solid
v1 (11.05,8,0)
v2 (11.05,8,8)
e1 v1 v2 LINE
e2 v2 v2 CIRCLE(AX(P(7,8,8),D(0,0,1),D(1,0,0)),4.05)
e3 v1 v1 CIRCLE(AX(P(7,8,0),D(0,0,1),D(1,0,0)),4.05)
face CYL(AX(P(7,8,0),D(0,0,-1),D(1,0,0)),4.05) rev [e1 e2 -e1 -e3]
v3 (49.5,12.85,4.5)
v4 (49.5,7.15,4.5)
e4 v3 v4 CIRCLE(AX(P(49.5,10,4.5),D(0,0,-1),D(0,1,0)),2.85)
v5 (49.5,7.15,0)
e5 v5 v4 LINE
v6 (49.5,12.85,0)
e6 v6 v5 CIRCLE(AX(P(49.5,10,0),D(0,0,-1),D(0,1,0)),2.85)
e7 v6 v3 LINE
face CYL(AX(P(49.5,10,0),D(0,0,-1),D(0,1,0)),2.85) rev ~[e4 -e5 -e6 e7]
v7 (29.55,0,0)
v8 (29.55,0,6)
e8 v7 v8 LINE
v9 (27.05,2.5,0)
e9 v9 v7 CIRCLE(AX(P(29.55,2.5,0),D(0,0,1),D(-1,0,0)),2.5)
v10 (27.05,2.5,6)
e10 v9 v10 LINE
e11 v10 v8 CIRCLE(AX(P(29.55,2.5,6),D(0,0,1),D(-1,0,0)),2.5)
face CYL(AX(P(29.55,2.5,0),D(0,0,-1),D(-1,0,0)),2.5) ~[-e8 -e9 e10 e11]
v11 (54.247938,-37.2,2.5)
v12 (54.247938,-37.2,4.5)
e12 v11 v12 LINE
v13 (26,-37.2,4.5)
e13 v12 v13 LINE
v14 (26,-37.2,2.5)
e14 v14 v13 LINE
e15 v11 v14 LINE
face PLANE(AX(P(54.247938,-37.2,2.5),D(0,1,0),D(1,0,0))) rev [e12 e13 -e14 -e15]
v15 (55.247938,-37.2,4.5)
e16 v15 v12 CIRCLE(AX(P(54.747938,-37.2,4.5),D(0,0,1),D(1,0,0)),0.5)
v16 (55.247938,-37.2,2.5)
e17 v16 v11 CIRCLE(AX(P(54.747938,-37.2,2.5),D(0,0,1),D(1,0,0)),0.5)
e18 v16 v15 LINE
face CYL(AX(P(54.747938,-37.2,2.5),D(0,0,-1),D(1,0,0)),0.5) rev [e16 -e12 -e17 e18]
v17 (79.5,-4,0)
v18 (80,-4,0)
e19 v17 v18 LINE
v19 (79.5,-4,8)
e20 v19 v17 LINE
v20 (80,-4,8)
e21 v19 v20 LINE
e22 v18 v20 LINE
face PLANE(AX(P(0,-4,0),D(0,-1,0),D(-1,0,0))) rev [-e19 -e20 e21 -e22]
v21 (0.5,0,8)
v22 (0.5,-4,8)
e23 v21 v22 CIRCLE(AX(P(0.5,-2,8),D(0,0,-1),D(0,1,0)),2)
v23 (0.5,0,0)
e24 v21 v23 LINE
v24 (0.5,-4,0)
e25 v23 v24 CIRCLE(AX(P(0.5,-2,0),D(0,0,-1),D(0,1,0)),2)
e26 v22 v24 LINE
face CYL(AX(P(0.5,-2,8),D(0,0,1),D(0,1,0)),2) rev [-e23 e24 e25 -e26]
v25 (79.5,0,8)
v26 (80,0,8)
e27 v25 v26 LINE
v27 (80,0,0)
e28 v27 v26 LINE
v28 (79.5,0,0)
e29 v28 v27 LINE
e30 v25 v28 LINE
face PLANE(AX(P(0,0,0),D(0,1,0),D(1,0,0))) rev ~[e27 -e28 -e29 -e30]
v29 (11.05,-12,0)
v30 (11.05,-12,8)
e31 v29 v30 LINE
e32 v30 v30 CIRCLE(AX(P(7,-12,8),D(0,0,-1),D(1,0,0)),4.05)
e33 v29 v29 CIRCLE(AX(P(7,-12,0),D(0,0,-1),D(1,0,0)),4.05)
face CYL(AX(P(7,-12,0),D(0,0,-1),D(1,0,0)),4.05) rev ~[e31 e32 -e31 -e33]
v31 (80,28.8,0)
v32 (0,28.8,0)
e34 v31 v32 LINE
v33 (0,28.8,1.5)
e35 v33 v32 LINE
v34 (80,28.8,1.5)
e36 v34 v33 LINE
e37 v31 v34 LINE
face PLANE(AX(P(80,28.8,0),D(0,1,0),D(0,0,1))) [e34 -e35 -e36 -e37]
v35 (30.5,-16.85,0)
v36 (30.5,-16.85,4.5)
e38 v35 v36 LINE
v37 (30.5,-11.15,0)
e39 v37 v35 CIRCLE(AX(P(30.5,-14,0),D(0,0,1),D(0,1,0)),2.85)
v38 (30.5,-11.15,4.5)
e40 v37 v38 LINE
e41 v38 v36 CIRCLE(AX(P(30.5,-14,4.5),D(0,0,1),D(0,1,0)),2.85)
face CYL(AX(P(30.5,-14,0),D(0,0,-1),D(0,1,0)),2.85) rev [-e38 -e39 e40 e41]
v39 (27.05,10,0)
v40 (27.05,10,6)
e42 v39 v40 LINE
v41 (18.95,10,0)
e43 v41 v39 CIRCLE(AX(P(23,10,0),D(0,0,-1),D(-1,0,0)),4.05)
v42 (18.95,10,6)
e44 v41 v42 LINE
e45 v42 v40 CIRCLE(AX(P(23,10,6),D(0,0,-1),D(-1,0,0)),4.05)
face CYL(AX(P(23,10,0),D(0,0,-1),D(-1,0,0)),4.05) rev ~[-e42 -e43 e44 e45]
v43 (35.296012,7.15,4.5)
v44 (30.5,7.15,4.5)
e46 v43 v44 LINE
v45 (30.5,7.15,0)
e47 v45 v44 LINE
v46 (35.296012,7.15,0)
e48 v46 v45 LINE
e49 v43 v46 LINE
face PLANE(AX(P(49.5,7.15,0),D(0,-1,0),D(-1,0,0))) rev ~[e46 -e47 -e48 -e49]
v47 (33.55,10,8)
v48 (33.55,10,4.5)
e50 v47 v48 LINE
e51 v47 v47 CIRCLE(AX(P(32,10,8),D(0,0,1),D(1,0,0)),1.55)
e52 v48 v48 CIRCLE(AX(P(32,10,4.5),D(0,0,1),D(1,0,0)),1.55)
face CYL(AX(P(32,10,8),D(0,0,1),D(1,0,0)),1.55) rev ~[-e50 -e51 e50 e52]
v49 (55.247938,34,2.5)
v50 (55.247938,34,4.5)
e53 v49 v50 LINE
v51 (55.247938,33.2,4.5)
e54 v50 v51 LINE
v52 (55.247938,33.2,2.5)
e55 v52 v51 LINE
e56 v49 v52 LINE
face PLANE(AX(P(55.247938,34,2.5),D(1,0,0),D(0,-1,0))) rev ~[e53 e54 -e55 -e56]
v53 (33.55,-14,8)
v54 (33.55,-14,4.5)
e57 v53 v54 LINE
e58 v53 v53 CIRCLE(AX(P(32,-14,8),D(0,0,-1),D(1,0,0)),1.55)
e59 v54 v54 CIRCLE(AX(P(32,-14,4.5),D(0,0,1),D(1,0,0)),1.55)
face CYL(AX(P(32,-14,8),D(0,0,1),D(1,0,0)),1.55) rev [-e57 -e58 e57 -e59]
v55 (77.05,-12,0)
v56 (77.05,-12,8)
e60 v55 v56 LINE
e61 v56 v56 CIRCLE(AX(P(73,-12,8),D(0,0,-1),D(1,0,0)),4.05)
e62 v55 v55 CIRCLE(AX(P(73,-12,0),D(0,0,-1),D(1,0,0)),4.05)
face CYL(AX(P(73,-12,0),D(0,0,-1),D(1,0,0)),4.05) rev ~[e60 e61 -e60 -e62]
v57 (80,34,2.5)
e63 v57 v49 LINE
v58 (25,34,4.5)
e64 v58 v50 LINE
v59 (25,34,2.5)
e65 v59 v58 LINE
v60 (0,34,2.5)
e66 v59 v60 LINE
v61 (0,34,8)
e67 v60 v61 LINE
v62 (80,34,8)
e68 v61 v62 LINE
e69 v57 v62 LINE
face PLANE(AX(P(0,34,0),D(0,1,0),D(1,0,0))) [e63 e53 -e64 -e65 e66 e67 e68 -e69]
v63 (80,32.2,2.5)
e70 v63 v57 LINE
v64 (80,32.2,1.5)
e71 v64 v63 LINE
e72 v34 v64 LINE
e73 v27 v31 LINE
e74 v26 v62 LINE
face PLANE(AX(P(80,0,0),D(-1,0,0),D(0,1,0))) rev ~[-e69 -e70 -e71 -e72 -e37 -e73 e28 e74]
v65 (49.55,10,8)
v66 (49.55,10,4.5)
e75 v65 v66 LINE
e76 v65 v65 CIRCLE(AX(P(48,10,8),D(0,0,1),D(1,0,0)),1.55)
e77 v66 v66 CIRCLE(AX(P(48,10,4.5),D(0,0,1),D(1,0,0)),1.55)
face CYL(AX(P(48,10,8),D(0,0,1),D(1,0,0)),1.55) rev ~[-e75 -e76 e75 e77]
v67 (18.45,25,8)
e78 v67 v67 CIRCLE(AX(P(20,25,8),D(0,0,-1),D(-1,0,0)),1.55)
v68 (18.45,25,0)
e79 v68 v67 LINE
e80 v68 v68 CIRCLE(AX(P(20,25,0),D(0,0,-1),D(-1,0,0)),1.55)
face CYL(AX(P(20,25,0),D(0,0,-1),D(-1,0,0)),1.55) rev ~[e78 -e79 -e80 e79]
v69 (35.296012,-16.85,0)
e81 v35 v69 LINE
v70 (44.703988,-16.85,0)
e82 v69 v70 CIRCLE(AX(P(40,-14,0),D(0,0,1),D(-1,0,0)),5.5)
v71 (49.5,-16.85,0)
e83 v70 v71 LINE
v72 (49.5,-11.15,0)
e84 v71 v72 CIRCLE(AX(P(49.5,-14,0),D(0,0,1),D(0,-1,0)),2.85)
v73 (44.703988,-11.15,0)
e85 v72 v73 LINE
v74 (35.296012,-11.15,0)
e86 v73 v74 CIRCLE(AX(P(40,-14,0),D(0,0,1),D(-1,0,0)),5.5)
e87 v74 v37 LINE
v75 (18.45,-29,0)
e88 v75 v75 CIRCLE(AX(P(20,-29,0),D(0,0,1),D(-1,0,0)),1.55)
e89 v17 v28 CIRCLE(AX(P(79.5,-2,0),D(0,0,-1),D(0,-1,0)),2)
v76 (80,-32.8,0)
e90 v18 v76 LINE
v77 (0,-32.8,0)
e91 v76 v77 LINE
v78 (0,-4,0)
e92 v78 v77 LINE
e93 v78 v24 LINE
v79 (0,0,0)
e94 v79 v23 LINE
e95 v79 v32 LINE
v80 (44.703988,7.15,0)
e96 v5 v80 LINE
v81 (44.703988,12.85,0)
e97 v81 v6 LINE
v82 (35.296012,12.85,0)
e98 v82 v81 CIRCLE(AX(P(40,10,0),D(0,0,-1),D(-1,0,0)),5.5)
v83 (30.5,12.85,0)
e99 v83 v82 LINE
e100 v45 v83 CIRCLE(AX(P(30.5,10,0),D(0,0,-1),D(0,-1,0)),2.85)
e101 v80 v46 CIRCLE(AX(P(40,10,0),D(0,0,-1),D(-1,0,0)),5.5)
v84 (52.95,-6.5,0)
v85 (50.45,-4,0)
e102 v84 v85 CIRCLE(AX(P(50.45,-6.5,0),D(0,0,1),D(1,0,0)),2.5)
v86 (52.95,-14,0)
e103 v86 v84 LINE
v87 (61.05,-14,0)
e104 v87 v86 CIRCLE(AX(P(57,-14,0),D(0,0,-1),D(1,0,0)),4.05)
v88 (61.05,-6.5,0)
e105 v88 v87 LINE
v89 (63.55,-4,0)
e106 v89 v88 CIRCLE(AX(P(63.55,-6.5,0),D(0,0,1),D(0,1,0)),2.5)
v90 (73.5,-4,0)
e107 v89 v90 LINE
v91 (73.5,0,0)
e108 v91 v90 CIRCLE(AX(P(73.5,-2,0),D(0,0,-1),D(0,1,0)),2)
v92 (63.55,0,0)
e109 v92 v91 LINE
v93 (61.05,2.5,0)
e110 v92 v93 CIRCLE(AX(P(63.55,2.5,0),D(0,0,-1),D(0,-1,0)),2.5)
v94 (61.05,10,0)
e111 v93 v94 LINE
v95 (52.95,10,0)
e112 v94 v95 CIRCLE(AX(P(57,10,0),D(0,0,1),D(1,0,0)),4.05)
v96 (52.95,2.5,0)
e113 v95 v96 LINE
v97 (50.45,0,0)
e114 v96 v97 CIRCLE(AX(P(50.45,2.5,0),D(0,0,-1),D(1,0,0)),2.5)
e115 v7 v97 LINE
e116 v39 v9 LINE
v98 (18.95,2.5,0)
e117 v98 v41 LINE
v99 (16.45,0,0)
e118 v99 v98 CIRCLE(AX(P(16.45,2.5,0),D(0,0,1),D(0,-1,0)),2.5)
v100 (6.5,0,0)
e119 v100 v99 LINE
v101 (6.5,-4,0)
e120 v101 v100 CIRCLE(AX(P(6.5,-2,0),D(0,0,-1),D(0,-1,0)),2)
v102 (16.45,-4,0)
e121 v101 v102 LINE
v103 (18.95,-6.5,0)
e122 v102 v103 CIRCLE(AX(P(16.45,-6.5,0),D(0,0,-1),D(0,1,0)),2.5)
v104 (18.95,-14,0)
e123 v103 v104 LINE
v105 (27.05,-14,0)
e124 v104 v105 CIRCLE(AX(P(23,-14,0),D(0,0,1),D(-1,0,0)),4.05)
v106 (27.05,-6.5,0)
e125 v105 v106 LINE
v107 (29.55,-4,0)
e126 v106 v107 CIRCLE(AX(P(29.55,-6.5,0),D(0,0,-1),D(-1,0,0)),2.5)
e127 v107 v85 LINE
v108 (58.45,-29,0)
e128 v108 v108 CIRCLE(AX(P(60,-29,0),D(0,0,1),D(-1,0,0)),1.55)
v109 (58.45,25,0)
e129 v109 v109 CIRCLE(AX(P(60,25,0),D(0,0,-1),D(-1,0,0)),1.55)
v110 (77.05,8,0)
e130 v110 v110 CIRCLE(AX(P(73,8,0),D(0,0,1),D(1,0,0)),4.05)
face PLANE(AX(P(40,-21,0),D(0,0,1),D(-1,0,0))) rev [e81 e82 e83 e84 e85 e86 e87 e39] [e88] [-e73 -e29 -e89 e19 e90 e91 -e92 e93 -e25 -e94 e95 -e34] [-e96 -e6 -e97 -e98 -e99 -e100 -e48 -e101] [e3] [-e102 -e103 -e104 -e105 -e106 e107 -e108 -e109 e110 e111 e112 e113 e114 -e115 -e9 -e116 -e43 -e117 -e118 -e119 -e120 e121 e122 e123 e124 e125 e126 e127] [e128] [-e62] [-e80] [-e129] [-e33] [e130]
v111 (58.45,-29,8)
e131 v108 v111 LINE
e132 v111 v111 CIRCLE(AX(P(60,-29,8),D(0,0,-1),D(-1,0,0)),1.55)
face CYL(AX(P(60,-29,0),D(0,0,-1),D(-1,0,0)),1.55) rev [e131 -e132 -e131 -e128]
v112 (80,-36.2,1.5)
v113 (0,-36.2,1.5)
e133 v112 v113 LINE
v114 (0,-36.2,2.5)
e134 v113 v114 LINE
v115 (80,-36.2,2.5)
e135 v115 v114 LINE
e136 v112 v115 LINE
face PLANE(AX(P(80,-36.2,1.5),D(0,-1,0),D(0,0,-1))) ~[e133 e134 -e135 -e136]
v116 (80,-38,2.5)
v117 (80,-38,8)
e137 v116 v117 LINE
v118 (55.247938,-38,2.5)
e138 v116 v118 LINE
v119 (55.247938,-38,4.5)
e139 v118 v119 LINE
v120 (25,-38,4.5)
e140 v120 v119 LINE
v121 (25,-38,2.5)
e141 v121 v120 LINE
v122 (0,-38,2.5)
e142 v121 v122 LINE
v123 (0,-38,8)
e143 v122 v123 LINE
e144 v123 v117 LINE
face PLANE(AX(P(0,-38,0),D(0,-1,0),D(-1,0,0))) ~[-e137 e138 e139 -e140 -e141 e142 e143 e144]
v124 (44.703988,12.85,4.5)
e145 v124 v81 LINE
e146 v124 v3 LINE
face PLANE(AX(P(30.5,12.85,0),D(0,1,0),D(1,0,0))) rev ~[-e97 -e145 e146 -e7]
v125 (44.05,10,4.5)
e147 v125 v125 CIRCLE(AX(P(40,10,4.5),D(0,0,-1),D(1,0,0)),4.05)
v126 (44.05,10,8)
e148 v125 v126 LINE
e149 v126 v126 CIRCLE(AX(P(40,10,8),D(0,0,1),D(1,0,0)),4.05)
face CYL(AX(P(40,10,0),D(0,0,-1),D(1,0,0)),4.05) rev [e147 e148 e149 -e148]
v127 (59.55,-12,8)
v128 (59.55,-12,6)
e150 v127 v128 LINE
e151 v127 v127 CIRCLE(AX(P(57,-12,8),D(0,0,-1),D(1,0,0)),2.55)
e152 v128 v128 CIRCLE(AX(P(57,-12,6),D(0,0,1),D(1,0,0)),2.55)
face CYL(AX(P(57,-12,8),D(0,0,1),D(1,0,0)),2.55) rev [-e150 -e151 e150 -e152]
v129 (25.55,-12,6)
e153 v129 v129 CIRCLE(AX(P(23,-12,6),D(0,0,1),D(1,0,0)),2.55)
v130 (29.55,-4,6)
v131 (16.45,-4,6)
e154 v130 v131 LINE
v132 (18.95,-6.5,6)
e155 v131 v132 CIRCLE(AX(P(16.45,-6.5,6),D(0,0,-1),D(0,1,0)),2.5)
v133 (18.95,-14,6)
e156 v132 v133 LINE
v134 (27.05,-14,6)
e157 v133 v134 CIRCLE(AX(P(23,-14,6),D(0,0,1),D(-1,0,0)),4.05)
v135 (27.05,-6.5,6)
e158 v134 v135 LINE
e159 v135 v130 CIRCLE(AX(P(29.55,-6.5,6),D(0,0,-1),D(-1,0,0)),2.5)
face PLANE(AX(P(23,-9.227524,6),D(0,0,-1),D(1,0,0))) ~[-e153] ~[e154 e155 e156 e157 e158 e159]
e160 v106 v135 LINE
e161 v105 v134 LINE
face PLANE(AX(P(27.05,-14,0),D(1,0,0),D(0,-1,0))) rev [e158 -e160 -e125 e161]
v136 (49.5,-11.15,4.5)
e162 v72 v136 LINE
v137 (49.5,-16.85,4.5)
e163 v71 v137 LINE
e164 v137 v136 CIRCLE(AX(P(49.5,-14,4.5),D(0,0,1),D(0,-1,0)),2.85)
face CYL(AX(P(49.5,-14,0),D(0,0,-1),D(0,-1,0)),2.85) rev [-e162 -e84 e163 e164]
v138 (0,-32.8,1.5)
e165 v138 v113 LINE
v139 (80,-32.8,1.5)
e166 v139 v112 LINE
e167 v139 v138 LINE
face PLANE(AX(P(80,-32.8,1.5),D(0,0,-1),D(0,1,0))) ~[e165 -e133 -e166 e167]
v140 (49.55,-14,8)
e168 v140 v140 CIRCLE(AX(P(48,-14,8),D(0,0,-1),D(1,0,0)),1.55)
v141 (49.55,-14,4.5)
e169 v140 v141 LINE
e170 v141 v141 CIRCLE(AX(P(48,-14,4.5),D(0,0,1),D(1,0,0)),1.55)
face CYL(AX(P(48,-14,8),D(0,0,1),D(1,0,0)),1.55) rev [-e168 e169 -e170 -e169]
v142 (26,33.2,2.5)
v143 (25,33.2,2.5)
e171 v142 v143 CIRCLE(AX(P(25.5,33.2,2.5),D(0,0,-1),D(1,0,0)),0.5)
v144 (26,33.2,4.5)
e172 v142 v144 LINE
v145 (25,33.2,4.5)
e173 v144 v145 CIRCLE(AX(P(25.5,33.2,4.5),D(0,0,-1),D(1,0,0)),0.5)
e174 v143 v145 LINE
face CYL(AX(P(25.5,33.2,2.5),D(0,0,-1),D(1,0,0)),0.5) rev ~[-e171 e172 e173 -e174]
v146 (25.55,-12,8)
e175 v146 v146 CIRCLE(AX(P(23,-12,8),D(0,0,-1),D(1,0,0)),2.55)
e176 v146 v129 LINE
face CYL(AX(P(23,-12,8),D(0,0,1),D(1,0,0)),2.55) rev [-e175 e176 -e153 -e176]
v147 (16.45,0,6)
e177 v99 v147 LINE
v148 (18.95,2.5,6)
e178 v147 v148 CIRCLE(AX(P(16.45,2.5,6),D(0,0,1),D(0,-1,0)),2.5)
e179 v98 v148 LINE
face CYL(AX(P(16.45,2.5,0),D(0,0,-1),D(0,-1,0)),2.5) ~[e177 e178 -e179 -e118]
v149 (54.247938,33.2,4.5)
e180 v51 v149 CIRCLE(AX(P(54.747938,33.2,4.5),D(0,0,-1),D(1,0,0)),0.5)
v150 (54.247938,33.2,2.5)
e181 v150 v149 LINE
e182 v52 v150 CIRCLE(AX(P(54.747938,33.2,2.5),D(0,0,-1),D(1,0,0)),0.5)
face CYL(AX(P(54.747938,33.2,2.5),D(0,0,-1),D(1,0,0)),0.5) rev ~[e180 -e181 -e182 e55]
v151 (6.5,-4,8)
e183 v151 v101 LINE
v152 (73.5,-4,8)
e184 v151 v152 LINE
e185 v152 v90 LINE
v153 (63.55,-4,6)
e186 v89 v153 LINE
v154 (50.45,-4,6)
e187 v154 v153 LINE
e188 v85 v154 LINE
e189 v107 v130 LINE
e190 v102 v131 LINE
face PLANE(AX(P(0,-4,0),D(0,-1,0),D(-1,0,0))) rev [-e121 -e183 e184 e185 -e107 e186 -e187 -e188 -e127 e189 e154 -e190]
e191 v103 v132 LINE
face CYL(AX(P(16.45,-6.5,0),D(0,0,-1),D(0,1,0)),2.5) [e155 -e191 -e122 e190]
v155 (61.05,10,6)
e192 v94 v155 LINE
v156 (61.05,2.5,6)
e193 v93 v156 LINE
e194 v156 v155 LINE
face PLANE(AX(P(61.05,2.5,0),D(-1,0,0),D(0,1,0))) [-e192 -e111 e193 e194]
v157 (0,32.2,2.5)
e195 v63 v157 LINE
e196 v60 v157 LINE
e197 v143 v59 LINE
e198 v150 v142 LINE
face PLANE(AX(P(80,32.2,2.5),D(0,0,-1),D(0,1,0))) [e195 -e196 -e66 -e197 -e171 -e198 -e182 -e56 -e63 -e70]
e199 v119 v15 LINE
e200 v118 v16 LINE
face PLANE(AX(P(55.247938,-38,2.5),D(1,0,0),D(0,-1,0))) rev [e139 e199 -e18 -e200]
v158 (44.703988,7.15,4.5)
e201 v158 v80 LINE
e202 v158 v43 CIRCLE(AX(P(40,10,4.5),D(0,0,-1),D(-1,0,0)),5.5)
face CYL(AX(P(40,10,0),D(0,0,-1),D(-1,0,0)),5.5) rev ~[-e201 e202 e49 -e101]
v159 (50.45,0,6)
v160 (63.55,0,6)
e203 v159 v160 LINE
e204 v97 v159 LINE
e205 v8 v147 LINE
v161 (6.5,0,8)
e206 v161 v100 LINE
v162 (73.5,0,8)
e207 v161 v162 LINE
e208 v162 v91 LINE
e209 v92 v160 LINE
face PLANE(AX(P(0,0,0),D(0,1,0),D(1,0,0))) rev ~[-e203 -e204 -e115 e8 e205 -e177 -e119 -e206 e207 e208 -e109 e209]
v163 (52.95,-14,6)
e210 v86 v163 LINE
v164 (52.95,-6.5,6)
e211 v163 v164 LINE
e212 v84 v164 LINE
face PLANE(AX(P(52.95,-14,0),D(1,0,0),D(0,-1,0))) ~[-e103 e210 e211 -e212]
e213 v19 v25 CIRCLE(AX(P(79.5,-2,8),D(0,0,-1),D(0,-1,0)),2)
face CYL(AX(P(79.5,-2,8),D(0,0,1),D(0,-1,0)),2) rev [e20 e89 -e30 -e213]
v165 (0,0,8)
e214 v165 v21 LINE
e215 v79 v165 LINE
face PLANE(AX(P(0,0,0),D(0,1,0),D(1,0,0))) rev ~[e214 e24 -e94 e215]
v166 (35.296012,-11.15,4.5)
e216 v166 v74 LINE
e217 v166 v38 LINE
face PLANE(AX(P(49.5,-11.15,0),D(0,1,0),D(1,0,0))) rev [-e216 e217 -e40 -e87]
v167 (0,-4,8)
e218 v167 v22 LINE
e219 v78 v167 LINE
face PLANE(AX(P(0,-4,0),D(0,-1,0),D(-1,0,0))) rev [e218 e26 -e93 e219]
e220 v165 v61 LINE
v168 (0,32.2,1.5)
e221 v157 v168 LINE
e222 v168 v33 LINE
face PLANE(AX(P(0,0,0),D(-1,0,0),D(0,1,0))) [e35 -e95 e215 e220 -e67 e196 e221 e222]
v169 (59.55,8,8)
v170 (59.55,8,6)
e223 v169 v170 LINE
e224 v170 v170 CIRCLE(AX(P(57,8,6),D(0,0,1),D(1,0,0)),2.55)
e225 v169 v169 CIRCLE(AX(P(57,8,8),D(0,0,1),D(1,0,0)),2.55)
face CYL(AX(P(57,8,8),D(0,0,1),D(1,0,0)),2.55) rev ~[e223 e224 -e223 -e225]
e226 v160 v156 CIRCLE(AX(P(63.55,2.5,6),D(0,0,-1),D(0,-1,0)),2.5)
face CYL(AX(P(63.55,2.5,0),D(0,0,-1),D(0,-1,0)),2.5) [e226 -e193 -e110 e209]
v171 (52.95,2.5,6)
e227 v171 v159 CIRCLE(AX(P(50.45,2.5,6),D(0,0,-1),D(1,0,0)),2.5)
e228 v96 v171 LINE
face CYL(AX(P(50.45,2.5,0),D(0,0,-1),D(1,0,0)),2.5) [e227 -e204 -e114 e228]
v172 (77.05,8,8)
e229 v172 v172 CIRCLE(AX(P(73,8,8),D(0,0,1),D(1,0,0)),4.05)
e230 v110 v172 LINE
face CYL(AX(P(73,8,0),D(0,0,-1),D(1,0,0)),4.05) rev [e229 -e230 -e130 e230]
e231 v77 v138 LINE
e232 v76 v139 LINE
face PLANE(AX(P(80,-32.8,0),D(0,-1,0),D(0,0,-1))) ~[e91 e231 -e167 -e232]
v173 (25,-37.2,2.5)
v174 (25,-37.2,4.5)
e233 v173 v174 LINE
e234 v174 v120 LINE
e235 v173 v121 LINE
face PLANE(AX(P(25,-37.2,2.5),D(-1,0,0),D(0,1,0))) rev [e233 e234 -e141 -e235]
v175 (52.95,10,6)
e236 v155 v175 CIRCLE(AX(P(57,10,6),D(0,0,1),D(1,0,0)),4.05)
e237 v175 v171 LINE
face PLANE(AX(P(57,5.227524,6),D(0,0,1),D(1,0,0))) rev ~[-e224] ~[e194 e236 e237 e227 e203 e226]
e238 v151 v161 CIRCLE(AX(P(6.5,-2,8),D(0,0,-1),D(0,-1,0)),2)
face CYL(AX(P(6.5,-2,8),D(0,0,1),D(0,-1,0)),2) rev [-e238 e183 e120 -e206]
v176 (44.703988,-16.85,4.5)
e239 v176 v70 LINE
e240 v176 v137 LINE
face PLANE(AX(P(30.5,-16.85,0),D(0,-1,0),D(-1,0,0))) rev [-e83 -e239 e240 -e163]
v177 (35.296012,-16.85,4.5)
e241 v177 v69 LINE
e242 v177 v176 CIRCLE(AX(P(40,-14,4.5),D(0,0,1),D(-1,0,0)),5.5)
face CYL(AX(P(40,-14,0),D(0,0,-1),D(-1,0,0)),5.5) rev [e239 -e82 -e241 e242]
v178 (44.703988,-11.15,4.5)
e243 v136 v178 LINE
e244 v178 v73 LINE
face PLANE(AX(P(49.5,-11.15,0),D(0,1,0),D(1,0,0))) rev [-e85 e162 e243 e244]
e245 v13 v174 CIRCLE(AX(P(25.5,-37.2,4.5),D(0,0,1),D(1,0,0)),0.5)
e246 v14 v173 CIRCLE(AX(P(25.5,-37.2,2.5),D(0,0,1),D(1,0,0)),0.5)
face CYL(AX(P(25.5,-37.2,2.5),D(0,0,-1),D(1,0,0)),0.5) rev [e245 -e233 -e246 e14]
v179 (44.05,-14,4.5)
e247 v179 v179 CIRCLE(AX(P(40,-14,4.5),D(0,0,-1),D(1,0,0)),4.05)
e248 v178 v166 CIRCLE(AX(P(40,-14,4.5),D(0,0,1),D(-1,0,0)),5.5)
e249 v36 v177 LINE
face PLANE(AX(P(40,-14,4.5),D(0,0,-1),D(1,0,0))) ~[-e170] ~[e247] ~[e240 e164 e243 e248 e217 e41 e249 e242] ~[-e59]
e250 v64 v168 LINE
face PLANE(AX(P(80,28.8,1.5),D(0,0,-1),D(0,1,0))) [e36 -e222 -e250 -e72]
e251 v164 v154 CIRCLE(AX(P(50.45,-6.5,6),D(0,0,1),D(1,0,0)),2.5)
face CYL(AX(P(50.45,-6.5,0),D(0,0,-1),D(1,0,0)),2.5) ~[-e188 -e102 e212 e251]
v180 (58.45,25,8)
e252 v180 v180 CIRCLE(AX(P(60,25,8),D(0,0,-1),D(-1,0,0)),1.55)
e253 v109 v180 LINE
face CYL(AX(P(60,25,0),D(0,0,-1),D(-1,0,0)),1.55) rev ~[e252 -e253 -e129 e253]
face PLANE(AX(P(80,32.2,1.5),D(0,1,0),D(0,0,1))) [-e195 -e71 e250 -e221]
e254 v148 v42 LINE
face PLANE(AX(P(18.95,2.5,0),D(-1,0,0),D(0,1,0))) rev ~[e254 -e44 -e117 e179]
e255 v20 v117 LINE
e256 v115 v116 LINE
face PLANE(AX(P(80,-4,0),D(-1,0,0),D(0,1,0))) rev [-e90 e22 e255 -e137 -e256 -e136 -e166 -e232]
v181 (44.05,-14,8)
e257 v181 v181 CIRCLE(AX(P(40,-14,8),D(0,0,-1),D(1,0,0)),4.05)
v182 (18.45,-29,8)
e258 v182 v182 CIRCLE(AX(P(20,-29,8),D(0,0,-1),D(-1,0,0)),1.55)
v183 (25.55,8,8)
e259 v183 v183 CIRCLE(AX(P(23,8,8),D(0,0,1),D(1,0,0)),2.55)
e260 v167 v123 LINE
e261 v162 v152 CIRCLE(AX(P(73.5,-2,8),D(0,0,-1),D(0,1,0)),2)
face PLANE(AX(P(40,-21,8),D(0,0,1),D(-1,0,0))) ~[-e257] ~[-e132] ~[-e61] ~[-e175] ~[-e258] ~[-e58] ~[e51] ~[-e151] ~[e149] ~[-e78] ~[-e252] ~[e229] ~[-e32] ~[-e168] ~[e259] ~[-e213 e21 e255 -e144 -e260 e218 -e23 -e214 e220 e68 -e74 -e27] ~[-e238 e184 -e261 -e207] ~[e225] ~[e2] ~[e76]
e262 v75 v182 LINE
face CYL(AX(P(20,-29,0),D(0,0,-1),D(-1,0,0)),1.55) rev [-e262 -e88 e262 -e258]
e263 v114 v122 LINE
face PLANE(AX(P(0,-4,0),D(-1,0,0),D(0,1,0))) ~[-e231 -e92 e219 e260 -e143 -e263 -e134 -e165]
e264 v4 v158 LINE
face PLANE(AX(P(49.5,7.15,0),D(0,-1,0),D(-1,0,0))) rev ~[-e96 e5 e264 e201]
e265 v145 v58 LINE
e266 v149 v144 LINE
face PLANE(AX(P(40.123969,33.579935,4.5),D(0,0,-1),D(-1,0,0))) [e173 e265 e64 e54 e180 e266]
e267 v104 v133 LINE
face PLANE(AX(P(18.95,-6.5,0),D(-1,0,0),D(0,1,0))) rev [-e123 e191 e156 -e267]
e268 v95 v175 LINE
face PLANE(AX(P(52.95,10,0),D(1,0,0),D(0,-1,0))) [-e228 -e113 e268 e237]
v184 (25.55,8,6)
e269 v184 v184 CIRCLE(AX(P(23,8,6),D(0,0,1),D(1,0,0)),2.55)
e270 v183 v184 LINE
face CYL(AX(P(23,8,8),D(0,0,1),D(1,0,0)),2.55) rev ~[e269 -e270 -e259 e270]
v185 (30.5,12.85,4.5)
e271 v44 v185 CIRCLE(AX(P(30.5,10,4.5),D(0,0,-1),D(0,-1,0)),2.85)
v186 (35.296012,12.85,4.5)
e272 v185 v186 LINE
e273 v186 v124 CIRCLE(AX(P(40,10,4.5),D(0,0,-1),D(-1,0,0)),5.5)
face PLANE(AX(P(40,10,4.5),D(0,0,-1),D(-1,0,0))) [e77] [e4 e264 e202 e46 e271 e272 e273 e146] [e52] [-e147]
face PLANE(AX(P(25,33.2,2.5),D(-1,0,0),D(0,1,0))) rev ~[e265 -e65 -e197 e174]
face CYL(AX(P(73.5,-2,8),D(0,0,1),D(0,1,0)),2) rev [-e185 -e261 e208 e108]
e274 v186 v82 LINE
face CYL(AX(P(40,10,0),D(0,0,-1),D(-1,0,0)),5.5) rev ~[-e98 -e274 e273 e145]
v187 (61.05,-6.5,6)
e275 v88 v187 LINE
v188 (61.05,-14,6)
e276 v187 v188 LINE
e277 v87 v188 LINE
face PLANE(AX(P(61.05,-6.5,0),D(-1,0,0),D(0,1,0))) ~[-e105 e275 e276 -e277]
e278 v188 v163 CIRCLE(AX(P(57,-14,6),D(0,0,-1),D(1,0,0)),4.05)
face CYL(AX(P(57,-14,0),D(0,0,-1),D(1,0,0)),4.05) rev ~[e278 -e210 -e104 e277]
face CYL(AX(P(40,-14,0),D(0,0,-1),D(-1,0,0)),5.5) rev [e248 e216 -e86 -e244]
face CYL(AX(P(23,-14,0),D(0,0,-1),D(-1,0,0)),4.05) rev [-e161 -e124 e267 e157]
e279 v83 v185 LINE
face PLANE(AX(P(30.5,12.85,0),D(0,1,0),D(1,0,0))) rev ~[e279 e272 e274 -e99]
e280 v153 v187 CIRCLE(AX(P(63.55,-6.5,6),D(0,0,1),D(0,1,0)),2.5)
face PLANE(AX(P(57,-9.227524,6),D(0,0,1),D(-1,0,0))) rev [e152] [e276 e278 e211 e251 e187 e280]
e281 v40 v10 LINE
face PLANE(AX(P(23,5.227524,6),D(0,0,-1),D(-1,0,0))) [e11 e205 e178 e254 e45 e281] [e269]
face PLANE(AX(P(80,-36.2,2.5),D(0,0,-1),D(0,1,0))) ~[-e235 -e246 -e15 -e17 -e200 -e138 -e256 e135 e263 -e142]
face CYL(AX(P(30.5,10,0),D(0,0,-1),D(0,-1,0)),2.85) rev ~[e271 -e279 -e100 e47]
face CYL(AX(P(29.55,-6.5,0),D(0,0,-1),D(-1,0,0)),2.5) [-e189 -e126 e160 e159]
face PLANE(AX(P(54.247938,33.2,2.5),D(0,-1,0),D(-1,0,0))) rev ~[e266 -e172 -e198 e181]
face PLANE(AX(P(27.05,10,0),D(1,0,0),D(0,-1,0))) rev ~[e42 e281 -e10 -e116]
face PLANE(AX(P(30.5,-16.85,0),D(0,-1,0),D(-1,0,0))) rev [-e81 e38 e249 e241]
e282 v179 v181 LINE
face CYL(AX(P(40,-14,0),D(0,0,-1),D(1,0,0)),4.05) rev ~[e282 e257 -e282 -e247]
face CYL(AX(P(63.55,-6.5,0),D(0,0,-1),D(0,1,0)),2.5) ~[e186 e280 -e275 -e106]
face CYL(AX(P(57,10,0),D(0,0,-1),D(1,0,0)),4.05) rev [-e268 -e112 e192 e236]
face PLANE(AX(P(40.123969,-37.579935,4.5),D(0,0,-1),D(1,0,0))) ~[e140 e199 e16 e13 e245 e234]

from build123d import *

# Parameters (mm, degrees)
SKETCH_2_W           = 80
SKETCH_2_H           = 34
SKETCH_2_R           = 4.05
EXTRUDE_1_DEPTH      = 8
SKETCH_3_R           = 2.55
CUT_EXTRUDE_1_DEPTH  = 88.292611371
CUT_EXTRUDE_2_DEPTH  = 88.292611371
SKETCH_5_R           = 1.55
CUT_EXTRUDE_3_DEPTH  = 88.292611371
CUT_EXTRUDE_4_DEPTH  = 6
CUT_EXTRUDE_5_DEPTH  = 4.5
SKETCH_20_R          = 5.5
CUT_EXTRUDE_12_DEPTH = 4.5
SKETCH_25_R          = 1.55
CUT_EXTRUDE_13_DEPTH = 88.292611371
CUT_EXTRUDE_11_DEPTH = 2
EXTRUDE_2_DEPTH      = 8


with BuildPart() as part:
    # 草图2 → 凸台-拉伸1 (new body)
    with BuildSketch(Plane.XY):
        with Locations((40, 17)):
            Rectangle(SKETCH_2_W, SKETCH_2_H)
        with Locations((7, 8)):
            Circle(SKETCH_2_R, mode=Mode.SUBTRACT)
        with Locations((40, 10)):
            Circle(SKETCH_2_R, mode=Mode.SUBTRACT)
        with Locations((73, 8)):
            Circle(SKETCH_2_R, mode=Mode.SUBTRACT)
    extrude_1 = extrude(amount=EXTRUDE_1_DEPTH)

    # 草图3 → 切除-拉伸1 (cut, through all)
    with BuildSketch(Plane.XY.offset(8)):
        with Locations((23, 8)):
            Circle(SKETCH_3_R)
        with Locations((57, 8)):
            Circle(SKETCH_3_R)
    cut_extrude_1 = extrude(amount=-CUT_EXTRUDE_1_DEPTH, mode=Mode.SUBTRACT)

    # 草图4 → 切除-拉伸2 (cut, through all)
    with BuildSketch(Plane(origin=(80, 0, 0), x_dir=(0, 0, -1), z_dir=(1, 0, 0))):
        Polygon((-1.5, 32.2), (-2.5, 32.2), (-2.5, 34), (0, 34), (0, 28.8), (-1.5, 28.8), align=None)
    cut_extrude_2 = extrude(amount=-CUT_EXTRUDE_2_DEPTH, mode=Mode.SUBTRACT)

    # 草图5 → 切除-拉伸3 (cut, through all)
    with BuildSketch(Plane.XY.offset(8)):
        with Locations((48, 10)):
            Circle(SKETCH_5_R)
        with Locations((32, 10)):
            Circle(SKETCH_5_R)
    cut_extrude_3 = extrude(amount=-CUT_EXTRUDE_3_DEPTH, mode=Mode.SUBTRACT)

    # 草图7 → 切除-拉伸4 (cut)
    with BuildSketch(Plane(origin=(0, 0, 0), x_dir=(-1, 0, 0), z_dir=(0, 0, -1))):
        with BuildLine():
            Line((-27.05, 10), (-27.05, 2.5))
            ThreePointArc((-27.05, 2.5), (-27.782233047, 0.732233047), (-29.55, 0))
            Line((-29.55, 0), (-16.45, 0))
            ThreePointArc((-16.45, 0), (-18.217766953, 0.732233047), (-18.95, 2.5))
            Line((-18.95, 2.5), (-18.95, 10))
            ThreePointArc((-18.95, 10), (-23, 14.05), (-27.05, 10))
        make_face()
        with BuildLine():
            Line((-61.05, 2.5), (-61.05, 10))
            ThreePointArc((-61.05, 10), (-57, 14.05), (-52.95, 10))
            Line((-52.95, 10), (-52.95, 2.5))
            ThreePointArc((-52.95, 2.5), (-52.217766953, 0.732233047), (-50.45, 0))
            Line((-50.45, 0), (-63.55, 0))
            ThreePointArc((-63.55, 0), (-61.782233047, 0.732233047), (-61.05, 2.5))
        make_face()
    cut_extrude_4 = extrude(amount=-CUT_EXTRUDE_4_DEPTH, mode=Mode.SUBTRACT)

    # 草图8 → 切除-拉伸5 (cut)
    with BuildSketch(Plane(origin=(0, 0, 0), x_dir=(-1, 0, 0), z_dir=(0, 0, -1))):
        with BuildLine():
            Line((-30.5, 12.85), (-49.5, 12.85))
            ThreePointArc((-49.5, 12.85), (-52.35, 10), (-49.5, 7.15))
            Line((-49.5, 7.15), (-30.5, 7.15))
            ThreePointArc((-30.5, 7.15), (-27.65, 10), (-30.5, 12.85))
        make_face()
    cut_extrude_5 = extrude(amount=-CUT_EXTRUDE_5_DEPTH, mode=Mode.SUBTRACT)

    # 草图20 → 切除-拉伸12 (cut)
    with BuildSketch(Plane(origin=(0, 0, 0), x_dir=(-1, 0, 0), z_dir=(0, 0, -1))):
        with Locations((-40, 10)):
            Circle(SKETCH_20_R)
    cut_extrude_12 = extrude(amount=-CUT_EXTRUDE_12_DEPTH, mode=Mode.SUBTRACT)

    # 草图25 → 切除-拉伸13 (cut, through all)
    with BuildSketch(Plane(origin=(0, 0, 0), x_dir=(-1, 0, 0), z_dir=(0, 0, -1))):
        with Locations((-60, 25)):
            Circle(SKETCH_25_R)
        with Locations((-20, 25)):
            Circle(SKETCH_25_R)
    cut_extrude_13 = extrude(amount=-CUT_EXTRUDE_13_DEPTH, mode=Mode.SUBTRACT)

    # 草图19 → 切除-拉伸11 (cut)
    with BuildSketch(Plane(origin=(0, 0, 2.5), x_dir=(-1, 0, 0), z_dir=(0, 0, -1))):
        with BuildLine():
            Line((-25, 34), (-55.247938178, 34))
            Line((-55.247938178, 34), (-55.247938178, 33.2))
            ThreePointArc((-55.247938178, 33.2), (-54.747938178, 32.7), (-54.247938178, 33.2))
            Line((-54.247938178, 33.2), (-26, 33.2))
            ThreePointArc((-26, 33.2), (-25.5, 32.7), (-25, 33.2))
            Line((-25, 33.2), (-25, 34))
        make_face()
    cut_extrude_11 = extrude(amount=-CUT_EXTRUDE_11_DEPTH, mode=Mode.SUBTRACT)

    # 草图22 → 凸台-拉伸2 (add)
    with BuildSketch(Plane.XY.offset(8)):
        with BuildLine():
            Line((0.5, -4), (6.5, -4))
            ThreePointArc((6.5, -4), (4.5, -2), (6.5, 0))
            Line((6.5, 0), (0.5, 0))
            ThreePointArc((0.5, 0), (2.5, -2), (0.5, -4))
        make_face()
        with BuildLine():
            Line((79.5, 0), (73.5, 0))
            ThreePointArc((73.5, 0), (75.5, -2), (73.5, -4))
            Line((73.5, -4), (79.5, -4))
            ThreePointArc((79.5, -4), (77.5, -2), (79.5, 0))
        make_face()
    extrude(amount=-EXTRUDE_2_DEPTH)

    # 镜向2: 凸台-拉伸1, 切除-拉伸1, 切除-拉伸2, 切除-拉伸3, 切除-拉伸4, 切除-拉伸5, 切除-拉伸12, 切除-拉伸13, 切除-拉伸11 across plane
    add(extrude_1.mirror(Plane(origin=(0, -2, 0), x_dir=(0, 0, 1), z_dir=(0, -1, 0))))
    add(cut_extrude_1.mirror(Plane(origin=(0, -2, 0), x_dir=(0, 0, 1), z_dir=(0, -1, 0))), mode=Mode.SUBTRACT)
    add(cut_extrude_2.mirror(Plane(origin=(0, -2, 0), x_dir=(0, 0, 1), z_dir=(0, -1, 0))), mode=Mode.SUBTRACT)
    add(cut_extrude_3.mirror(Plane(origin=(0, -2, 0), x_dir=(0, 0, 1), z_dir=(0, -1, 0))), mode=Mode.SUBTRACT)
    add(cut_extrude_4.mirror(Plane(origin=(0, -2, 0), x_dir=(0, 0, 1), z_dir=(0, -1, 0))), mode=Mode.SUBTRACT)
    add(cut_extrude_5.mirror(Plane(origin=(0, -2, 0), x_dir=(0, 0, 1), z_dir=(0, -1, 0))), mode=Mode.SUBTRACT)
    add(cut_extrude_12.mirror(Plane(origin=(0, -2, 0), x_dir=(0, 0, 1), z_dir=(0, -1, 0))), mode=Mode.SUBTRACT)
    add(cut_extrude_13.mirror(Plane(origin=(0, -2, 0), x_dir=(0, 0, 1), z_dir=(0, -1, 0))), mode=Mode.SUBTRACT)
    add(cut_extrude_11.mirror(Plane(origin=(0, -2, 0), x_dir=(0, 0, 1), z_dir=(0, -1, 0))), mode=Mode.SUBTRACT)


solid = part.part
